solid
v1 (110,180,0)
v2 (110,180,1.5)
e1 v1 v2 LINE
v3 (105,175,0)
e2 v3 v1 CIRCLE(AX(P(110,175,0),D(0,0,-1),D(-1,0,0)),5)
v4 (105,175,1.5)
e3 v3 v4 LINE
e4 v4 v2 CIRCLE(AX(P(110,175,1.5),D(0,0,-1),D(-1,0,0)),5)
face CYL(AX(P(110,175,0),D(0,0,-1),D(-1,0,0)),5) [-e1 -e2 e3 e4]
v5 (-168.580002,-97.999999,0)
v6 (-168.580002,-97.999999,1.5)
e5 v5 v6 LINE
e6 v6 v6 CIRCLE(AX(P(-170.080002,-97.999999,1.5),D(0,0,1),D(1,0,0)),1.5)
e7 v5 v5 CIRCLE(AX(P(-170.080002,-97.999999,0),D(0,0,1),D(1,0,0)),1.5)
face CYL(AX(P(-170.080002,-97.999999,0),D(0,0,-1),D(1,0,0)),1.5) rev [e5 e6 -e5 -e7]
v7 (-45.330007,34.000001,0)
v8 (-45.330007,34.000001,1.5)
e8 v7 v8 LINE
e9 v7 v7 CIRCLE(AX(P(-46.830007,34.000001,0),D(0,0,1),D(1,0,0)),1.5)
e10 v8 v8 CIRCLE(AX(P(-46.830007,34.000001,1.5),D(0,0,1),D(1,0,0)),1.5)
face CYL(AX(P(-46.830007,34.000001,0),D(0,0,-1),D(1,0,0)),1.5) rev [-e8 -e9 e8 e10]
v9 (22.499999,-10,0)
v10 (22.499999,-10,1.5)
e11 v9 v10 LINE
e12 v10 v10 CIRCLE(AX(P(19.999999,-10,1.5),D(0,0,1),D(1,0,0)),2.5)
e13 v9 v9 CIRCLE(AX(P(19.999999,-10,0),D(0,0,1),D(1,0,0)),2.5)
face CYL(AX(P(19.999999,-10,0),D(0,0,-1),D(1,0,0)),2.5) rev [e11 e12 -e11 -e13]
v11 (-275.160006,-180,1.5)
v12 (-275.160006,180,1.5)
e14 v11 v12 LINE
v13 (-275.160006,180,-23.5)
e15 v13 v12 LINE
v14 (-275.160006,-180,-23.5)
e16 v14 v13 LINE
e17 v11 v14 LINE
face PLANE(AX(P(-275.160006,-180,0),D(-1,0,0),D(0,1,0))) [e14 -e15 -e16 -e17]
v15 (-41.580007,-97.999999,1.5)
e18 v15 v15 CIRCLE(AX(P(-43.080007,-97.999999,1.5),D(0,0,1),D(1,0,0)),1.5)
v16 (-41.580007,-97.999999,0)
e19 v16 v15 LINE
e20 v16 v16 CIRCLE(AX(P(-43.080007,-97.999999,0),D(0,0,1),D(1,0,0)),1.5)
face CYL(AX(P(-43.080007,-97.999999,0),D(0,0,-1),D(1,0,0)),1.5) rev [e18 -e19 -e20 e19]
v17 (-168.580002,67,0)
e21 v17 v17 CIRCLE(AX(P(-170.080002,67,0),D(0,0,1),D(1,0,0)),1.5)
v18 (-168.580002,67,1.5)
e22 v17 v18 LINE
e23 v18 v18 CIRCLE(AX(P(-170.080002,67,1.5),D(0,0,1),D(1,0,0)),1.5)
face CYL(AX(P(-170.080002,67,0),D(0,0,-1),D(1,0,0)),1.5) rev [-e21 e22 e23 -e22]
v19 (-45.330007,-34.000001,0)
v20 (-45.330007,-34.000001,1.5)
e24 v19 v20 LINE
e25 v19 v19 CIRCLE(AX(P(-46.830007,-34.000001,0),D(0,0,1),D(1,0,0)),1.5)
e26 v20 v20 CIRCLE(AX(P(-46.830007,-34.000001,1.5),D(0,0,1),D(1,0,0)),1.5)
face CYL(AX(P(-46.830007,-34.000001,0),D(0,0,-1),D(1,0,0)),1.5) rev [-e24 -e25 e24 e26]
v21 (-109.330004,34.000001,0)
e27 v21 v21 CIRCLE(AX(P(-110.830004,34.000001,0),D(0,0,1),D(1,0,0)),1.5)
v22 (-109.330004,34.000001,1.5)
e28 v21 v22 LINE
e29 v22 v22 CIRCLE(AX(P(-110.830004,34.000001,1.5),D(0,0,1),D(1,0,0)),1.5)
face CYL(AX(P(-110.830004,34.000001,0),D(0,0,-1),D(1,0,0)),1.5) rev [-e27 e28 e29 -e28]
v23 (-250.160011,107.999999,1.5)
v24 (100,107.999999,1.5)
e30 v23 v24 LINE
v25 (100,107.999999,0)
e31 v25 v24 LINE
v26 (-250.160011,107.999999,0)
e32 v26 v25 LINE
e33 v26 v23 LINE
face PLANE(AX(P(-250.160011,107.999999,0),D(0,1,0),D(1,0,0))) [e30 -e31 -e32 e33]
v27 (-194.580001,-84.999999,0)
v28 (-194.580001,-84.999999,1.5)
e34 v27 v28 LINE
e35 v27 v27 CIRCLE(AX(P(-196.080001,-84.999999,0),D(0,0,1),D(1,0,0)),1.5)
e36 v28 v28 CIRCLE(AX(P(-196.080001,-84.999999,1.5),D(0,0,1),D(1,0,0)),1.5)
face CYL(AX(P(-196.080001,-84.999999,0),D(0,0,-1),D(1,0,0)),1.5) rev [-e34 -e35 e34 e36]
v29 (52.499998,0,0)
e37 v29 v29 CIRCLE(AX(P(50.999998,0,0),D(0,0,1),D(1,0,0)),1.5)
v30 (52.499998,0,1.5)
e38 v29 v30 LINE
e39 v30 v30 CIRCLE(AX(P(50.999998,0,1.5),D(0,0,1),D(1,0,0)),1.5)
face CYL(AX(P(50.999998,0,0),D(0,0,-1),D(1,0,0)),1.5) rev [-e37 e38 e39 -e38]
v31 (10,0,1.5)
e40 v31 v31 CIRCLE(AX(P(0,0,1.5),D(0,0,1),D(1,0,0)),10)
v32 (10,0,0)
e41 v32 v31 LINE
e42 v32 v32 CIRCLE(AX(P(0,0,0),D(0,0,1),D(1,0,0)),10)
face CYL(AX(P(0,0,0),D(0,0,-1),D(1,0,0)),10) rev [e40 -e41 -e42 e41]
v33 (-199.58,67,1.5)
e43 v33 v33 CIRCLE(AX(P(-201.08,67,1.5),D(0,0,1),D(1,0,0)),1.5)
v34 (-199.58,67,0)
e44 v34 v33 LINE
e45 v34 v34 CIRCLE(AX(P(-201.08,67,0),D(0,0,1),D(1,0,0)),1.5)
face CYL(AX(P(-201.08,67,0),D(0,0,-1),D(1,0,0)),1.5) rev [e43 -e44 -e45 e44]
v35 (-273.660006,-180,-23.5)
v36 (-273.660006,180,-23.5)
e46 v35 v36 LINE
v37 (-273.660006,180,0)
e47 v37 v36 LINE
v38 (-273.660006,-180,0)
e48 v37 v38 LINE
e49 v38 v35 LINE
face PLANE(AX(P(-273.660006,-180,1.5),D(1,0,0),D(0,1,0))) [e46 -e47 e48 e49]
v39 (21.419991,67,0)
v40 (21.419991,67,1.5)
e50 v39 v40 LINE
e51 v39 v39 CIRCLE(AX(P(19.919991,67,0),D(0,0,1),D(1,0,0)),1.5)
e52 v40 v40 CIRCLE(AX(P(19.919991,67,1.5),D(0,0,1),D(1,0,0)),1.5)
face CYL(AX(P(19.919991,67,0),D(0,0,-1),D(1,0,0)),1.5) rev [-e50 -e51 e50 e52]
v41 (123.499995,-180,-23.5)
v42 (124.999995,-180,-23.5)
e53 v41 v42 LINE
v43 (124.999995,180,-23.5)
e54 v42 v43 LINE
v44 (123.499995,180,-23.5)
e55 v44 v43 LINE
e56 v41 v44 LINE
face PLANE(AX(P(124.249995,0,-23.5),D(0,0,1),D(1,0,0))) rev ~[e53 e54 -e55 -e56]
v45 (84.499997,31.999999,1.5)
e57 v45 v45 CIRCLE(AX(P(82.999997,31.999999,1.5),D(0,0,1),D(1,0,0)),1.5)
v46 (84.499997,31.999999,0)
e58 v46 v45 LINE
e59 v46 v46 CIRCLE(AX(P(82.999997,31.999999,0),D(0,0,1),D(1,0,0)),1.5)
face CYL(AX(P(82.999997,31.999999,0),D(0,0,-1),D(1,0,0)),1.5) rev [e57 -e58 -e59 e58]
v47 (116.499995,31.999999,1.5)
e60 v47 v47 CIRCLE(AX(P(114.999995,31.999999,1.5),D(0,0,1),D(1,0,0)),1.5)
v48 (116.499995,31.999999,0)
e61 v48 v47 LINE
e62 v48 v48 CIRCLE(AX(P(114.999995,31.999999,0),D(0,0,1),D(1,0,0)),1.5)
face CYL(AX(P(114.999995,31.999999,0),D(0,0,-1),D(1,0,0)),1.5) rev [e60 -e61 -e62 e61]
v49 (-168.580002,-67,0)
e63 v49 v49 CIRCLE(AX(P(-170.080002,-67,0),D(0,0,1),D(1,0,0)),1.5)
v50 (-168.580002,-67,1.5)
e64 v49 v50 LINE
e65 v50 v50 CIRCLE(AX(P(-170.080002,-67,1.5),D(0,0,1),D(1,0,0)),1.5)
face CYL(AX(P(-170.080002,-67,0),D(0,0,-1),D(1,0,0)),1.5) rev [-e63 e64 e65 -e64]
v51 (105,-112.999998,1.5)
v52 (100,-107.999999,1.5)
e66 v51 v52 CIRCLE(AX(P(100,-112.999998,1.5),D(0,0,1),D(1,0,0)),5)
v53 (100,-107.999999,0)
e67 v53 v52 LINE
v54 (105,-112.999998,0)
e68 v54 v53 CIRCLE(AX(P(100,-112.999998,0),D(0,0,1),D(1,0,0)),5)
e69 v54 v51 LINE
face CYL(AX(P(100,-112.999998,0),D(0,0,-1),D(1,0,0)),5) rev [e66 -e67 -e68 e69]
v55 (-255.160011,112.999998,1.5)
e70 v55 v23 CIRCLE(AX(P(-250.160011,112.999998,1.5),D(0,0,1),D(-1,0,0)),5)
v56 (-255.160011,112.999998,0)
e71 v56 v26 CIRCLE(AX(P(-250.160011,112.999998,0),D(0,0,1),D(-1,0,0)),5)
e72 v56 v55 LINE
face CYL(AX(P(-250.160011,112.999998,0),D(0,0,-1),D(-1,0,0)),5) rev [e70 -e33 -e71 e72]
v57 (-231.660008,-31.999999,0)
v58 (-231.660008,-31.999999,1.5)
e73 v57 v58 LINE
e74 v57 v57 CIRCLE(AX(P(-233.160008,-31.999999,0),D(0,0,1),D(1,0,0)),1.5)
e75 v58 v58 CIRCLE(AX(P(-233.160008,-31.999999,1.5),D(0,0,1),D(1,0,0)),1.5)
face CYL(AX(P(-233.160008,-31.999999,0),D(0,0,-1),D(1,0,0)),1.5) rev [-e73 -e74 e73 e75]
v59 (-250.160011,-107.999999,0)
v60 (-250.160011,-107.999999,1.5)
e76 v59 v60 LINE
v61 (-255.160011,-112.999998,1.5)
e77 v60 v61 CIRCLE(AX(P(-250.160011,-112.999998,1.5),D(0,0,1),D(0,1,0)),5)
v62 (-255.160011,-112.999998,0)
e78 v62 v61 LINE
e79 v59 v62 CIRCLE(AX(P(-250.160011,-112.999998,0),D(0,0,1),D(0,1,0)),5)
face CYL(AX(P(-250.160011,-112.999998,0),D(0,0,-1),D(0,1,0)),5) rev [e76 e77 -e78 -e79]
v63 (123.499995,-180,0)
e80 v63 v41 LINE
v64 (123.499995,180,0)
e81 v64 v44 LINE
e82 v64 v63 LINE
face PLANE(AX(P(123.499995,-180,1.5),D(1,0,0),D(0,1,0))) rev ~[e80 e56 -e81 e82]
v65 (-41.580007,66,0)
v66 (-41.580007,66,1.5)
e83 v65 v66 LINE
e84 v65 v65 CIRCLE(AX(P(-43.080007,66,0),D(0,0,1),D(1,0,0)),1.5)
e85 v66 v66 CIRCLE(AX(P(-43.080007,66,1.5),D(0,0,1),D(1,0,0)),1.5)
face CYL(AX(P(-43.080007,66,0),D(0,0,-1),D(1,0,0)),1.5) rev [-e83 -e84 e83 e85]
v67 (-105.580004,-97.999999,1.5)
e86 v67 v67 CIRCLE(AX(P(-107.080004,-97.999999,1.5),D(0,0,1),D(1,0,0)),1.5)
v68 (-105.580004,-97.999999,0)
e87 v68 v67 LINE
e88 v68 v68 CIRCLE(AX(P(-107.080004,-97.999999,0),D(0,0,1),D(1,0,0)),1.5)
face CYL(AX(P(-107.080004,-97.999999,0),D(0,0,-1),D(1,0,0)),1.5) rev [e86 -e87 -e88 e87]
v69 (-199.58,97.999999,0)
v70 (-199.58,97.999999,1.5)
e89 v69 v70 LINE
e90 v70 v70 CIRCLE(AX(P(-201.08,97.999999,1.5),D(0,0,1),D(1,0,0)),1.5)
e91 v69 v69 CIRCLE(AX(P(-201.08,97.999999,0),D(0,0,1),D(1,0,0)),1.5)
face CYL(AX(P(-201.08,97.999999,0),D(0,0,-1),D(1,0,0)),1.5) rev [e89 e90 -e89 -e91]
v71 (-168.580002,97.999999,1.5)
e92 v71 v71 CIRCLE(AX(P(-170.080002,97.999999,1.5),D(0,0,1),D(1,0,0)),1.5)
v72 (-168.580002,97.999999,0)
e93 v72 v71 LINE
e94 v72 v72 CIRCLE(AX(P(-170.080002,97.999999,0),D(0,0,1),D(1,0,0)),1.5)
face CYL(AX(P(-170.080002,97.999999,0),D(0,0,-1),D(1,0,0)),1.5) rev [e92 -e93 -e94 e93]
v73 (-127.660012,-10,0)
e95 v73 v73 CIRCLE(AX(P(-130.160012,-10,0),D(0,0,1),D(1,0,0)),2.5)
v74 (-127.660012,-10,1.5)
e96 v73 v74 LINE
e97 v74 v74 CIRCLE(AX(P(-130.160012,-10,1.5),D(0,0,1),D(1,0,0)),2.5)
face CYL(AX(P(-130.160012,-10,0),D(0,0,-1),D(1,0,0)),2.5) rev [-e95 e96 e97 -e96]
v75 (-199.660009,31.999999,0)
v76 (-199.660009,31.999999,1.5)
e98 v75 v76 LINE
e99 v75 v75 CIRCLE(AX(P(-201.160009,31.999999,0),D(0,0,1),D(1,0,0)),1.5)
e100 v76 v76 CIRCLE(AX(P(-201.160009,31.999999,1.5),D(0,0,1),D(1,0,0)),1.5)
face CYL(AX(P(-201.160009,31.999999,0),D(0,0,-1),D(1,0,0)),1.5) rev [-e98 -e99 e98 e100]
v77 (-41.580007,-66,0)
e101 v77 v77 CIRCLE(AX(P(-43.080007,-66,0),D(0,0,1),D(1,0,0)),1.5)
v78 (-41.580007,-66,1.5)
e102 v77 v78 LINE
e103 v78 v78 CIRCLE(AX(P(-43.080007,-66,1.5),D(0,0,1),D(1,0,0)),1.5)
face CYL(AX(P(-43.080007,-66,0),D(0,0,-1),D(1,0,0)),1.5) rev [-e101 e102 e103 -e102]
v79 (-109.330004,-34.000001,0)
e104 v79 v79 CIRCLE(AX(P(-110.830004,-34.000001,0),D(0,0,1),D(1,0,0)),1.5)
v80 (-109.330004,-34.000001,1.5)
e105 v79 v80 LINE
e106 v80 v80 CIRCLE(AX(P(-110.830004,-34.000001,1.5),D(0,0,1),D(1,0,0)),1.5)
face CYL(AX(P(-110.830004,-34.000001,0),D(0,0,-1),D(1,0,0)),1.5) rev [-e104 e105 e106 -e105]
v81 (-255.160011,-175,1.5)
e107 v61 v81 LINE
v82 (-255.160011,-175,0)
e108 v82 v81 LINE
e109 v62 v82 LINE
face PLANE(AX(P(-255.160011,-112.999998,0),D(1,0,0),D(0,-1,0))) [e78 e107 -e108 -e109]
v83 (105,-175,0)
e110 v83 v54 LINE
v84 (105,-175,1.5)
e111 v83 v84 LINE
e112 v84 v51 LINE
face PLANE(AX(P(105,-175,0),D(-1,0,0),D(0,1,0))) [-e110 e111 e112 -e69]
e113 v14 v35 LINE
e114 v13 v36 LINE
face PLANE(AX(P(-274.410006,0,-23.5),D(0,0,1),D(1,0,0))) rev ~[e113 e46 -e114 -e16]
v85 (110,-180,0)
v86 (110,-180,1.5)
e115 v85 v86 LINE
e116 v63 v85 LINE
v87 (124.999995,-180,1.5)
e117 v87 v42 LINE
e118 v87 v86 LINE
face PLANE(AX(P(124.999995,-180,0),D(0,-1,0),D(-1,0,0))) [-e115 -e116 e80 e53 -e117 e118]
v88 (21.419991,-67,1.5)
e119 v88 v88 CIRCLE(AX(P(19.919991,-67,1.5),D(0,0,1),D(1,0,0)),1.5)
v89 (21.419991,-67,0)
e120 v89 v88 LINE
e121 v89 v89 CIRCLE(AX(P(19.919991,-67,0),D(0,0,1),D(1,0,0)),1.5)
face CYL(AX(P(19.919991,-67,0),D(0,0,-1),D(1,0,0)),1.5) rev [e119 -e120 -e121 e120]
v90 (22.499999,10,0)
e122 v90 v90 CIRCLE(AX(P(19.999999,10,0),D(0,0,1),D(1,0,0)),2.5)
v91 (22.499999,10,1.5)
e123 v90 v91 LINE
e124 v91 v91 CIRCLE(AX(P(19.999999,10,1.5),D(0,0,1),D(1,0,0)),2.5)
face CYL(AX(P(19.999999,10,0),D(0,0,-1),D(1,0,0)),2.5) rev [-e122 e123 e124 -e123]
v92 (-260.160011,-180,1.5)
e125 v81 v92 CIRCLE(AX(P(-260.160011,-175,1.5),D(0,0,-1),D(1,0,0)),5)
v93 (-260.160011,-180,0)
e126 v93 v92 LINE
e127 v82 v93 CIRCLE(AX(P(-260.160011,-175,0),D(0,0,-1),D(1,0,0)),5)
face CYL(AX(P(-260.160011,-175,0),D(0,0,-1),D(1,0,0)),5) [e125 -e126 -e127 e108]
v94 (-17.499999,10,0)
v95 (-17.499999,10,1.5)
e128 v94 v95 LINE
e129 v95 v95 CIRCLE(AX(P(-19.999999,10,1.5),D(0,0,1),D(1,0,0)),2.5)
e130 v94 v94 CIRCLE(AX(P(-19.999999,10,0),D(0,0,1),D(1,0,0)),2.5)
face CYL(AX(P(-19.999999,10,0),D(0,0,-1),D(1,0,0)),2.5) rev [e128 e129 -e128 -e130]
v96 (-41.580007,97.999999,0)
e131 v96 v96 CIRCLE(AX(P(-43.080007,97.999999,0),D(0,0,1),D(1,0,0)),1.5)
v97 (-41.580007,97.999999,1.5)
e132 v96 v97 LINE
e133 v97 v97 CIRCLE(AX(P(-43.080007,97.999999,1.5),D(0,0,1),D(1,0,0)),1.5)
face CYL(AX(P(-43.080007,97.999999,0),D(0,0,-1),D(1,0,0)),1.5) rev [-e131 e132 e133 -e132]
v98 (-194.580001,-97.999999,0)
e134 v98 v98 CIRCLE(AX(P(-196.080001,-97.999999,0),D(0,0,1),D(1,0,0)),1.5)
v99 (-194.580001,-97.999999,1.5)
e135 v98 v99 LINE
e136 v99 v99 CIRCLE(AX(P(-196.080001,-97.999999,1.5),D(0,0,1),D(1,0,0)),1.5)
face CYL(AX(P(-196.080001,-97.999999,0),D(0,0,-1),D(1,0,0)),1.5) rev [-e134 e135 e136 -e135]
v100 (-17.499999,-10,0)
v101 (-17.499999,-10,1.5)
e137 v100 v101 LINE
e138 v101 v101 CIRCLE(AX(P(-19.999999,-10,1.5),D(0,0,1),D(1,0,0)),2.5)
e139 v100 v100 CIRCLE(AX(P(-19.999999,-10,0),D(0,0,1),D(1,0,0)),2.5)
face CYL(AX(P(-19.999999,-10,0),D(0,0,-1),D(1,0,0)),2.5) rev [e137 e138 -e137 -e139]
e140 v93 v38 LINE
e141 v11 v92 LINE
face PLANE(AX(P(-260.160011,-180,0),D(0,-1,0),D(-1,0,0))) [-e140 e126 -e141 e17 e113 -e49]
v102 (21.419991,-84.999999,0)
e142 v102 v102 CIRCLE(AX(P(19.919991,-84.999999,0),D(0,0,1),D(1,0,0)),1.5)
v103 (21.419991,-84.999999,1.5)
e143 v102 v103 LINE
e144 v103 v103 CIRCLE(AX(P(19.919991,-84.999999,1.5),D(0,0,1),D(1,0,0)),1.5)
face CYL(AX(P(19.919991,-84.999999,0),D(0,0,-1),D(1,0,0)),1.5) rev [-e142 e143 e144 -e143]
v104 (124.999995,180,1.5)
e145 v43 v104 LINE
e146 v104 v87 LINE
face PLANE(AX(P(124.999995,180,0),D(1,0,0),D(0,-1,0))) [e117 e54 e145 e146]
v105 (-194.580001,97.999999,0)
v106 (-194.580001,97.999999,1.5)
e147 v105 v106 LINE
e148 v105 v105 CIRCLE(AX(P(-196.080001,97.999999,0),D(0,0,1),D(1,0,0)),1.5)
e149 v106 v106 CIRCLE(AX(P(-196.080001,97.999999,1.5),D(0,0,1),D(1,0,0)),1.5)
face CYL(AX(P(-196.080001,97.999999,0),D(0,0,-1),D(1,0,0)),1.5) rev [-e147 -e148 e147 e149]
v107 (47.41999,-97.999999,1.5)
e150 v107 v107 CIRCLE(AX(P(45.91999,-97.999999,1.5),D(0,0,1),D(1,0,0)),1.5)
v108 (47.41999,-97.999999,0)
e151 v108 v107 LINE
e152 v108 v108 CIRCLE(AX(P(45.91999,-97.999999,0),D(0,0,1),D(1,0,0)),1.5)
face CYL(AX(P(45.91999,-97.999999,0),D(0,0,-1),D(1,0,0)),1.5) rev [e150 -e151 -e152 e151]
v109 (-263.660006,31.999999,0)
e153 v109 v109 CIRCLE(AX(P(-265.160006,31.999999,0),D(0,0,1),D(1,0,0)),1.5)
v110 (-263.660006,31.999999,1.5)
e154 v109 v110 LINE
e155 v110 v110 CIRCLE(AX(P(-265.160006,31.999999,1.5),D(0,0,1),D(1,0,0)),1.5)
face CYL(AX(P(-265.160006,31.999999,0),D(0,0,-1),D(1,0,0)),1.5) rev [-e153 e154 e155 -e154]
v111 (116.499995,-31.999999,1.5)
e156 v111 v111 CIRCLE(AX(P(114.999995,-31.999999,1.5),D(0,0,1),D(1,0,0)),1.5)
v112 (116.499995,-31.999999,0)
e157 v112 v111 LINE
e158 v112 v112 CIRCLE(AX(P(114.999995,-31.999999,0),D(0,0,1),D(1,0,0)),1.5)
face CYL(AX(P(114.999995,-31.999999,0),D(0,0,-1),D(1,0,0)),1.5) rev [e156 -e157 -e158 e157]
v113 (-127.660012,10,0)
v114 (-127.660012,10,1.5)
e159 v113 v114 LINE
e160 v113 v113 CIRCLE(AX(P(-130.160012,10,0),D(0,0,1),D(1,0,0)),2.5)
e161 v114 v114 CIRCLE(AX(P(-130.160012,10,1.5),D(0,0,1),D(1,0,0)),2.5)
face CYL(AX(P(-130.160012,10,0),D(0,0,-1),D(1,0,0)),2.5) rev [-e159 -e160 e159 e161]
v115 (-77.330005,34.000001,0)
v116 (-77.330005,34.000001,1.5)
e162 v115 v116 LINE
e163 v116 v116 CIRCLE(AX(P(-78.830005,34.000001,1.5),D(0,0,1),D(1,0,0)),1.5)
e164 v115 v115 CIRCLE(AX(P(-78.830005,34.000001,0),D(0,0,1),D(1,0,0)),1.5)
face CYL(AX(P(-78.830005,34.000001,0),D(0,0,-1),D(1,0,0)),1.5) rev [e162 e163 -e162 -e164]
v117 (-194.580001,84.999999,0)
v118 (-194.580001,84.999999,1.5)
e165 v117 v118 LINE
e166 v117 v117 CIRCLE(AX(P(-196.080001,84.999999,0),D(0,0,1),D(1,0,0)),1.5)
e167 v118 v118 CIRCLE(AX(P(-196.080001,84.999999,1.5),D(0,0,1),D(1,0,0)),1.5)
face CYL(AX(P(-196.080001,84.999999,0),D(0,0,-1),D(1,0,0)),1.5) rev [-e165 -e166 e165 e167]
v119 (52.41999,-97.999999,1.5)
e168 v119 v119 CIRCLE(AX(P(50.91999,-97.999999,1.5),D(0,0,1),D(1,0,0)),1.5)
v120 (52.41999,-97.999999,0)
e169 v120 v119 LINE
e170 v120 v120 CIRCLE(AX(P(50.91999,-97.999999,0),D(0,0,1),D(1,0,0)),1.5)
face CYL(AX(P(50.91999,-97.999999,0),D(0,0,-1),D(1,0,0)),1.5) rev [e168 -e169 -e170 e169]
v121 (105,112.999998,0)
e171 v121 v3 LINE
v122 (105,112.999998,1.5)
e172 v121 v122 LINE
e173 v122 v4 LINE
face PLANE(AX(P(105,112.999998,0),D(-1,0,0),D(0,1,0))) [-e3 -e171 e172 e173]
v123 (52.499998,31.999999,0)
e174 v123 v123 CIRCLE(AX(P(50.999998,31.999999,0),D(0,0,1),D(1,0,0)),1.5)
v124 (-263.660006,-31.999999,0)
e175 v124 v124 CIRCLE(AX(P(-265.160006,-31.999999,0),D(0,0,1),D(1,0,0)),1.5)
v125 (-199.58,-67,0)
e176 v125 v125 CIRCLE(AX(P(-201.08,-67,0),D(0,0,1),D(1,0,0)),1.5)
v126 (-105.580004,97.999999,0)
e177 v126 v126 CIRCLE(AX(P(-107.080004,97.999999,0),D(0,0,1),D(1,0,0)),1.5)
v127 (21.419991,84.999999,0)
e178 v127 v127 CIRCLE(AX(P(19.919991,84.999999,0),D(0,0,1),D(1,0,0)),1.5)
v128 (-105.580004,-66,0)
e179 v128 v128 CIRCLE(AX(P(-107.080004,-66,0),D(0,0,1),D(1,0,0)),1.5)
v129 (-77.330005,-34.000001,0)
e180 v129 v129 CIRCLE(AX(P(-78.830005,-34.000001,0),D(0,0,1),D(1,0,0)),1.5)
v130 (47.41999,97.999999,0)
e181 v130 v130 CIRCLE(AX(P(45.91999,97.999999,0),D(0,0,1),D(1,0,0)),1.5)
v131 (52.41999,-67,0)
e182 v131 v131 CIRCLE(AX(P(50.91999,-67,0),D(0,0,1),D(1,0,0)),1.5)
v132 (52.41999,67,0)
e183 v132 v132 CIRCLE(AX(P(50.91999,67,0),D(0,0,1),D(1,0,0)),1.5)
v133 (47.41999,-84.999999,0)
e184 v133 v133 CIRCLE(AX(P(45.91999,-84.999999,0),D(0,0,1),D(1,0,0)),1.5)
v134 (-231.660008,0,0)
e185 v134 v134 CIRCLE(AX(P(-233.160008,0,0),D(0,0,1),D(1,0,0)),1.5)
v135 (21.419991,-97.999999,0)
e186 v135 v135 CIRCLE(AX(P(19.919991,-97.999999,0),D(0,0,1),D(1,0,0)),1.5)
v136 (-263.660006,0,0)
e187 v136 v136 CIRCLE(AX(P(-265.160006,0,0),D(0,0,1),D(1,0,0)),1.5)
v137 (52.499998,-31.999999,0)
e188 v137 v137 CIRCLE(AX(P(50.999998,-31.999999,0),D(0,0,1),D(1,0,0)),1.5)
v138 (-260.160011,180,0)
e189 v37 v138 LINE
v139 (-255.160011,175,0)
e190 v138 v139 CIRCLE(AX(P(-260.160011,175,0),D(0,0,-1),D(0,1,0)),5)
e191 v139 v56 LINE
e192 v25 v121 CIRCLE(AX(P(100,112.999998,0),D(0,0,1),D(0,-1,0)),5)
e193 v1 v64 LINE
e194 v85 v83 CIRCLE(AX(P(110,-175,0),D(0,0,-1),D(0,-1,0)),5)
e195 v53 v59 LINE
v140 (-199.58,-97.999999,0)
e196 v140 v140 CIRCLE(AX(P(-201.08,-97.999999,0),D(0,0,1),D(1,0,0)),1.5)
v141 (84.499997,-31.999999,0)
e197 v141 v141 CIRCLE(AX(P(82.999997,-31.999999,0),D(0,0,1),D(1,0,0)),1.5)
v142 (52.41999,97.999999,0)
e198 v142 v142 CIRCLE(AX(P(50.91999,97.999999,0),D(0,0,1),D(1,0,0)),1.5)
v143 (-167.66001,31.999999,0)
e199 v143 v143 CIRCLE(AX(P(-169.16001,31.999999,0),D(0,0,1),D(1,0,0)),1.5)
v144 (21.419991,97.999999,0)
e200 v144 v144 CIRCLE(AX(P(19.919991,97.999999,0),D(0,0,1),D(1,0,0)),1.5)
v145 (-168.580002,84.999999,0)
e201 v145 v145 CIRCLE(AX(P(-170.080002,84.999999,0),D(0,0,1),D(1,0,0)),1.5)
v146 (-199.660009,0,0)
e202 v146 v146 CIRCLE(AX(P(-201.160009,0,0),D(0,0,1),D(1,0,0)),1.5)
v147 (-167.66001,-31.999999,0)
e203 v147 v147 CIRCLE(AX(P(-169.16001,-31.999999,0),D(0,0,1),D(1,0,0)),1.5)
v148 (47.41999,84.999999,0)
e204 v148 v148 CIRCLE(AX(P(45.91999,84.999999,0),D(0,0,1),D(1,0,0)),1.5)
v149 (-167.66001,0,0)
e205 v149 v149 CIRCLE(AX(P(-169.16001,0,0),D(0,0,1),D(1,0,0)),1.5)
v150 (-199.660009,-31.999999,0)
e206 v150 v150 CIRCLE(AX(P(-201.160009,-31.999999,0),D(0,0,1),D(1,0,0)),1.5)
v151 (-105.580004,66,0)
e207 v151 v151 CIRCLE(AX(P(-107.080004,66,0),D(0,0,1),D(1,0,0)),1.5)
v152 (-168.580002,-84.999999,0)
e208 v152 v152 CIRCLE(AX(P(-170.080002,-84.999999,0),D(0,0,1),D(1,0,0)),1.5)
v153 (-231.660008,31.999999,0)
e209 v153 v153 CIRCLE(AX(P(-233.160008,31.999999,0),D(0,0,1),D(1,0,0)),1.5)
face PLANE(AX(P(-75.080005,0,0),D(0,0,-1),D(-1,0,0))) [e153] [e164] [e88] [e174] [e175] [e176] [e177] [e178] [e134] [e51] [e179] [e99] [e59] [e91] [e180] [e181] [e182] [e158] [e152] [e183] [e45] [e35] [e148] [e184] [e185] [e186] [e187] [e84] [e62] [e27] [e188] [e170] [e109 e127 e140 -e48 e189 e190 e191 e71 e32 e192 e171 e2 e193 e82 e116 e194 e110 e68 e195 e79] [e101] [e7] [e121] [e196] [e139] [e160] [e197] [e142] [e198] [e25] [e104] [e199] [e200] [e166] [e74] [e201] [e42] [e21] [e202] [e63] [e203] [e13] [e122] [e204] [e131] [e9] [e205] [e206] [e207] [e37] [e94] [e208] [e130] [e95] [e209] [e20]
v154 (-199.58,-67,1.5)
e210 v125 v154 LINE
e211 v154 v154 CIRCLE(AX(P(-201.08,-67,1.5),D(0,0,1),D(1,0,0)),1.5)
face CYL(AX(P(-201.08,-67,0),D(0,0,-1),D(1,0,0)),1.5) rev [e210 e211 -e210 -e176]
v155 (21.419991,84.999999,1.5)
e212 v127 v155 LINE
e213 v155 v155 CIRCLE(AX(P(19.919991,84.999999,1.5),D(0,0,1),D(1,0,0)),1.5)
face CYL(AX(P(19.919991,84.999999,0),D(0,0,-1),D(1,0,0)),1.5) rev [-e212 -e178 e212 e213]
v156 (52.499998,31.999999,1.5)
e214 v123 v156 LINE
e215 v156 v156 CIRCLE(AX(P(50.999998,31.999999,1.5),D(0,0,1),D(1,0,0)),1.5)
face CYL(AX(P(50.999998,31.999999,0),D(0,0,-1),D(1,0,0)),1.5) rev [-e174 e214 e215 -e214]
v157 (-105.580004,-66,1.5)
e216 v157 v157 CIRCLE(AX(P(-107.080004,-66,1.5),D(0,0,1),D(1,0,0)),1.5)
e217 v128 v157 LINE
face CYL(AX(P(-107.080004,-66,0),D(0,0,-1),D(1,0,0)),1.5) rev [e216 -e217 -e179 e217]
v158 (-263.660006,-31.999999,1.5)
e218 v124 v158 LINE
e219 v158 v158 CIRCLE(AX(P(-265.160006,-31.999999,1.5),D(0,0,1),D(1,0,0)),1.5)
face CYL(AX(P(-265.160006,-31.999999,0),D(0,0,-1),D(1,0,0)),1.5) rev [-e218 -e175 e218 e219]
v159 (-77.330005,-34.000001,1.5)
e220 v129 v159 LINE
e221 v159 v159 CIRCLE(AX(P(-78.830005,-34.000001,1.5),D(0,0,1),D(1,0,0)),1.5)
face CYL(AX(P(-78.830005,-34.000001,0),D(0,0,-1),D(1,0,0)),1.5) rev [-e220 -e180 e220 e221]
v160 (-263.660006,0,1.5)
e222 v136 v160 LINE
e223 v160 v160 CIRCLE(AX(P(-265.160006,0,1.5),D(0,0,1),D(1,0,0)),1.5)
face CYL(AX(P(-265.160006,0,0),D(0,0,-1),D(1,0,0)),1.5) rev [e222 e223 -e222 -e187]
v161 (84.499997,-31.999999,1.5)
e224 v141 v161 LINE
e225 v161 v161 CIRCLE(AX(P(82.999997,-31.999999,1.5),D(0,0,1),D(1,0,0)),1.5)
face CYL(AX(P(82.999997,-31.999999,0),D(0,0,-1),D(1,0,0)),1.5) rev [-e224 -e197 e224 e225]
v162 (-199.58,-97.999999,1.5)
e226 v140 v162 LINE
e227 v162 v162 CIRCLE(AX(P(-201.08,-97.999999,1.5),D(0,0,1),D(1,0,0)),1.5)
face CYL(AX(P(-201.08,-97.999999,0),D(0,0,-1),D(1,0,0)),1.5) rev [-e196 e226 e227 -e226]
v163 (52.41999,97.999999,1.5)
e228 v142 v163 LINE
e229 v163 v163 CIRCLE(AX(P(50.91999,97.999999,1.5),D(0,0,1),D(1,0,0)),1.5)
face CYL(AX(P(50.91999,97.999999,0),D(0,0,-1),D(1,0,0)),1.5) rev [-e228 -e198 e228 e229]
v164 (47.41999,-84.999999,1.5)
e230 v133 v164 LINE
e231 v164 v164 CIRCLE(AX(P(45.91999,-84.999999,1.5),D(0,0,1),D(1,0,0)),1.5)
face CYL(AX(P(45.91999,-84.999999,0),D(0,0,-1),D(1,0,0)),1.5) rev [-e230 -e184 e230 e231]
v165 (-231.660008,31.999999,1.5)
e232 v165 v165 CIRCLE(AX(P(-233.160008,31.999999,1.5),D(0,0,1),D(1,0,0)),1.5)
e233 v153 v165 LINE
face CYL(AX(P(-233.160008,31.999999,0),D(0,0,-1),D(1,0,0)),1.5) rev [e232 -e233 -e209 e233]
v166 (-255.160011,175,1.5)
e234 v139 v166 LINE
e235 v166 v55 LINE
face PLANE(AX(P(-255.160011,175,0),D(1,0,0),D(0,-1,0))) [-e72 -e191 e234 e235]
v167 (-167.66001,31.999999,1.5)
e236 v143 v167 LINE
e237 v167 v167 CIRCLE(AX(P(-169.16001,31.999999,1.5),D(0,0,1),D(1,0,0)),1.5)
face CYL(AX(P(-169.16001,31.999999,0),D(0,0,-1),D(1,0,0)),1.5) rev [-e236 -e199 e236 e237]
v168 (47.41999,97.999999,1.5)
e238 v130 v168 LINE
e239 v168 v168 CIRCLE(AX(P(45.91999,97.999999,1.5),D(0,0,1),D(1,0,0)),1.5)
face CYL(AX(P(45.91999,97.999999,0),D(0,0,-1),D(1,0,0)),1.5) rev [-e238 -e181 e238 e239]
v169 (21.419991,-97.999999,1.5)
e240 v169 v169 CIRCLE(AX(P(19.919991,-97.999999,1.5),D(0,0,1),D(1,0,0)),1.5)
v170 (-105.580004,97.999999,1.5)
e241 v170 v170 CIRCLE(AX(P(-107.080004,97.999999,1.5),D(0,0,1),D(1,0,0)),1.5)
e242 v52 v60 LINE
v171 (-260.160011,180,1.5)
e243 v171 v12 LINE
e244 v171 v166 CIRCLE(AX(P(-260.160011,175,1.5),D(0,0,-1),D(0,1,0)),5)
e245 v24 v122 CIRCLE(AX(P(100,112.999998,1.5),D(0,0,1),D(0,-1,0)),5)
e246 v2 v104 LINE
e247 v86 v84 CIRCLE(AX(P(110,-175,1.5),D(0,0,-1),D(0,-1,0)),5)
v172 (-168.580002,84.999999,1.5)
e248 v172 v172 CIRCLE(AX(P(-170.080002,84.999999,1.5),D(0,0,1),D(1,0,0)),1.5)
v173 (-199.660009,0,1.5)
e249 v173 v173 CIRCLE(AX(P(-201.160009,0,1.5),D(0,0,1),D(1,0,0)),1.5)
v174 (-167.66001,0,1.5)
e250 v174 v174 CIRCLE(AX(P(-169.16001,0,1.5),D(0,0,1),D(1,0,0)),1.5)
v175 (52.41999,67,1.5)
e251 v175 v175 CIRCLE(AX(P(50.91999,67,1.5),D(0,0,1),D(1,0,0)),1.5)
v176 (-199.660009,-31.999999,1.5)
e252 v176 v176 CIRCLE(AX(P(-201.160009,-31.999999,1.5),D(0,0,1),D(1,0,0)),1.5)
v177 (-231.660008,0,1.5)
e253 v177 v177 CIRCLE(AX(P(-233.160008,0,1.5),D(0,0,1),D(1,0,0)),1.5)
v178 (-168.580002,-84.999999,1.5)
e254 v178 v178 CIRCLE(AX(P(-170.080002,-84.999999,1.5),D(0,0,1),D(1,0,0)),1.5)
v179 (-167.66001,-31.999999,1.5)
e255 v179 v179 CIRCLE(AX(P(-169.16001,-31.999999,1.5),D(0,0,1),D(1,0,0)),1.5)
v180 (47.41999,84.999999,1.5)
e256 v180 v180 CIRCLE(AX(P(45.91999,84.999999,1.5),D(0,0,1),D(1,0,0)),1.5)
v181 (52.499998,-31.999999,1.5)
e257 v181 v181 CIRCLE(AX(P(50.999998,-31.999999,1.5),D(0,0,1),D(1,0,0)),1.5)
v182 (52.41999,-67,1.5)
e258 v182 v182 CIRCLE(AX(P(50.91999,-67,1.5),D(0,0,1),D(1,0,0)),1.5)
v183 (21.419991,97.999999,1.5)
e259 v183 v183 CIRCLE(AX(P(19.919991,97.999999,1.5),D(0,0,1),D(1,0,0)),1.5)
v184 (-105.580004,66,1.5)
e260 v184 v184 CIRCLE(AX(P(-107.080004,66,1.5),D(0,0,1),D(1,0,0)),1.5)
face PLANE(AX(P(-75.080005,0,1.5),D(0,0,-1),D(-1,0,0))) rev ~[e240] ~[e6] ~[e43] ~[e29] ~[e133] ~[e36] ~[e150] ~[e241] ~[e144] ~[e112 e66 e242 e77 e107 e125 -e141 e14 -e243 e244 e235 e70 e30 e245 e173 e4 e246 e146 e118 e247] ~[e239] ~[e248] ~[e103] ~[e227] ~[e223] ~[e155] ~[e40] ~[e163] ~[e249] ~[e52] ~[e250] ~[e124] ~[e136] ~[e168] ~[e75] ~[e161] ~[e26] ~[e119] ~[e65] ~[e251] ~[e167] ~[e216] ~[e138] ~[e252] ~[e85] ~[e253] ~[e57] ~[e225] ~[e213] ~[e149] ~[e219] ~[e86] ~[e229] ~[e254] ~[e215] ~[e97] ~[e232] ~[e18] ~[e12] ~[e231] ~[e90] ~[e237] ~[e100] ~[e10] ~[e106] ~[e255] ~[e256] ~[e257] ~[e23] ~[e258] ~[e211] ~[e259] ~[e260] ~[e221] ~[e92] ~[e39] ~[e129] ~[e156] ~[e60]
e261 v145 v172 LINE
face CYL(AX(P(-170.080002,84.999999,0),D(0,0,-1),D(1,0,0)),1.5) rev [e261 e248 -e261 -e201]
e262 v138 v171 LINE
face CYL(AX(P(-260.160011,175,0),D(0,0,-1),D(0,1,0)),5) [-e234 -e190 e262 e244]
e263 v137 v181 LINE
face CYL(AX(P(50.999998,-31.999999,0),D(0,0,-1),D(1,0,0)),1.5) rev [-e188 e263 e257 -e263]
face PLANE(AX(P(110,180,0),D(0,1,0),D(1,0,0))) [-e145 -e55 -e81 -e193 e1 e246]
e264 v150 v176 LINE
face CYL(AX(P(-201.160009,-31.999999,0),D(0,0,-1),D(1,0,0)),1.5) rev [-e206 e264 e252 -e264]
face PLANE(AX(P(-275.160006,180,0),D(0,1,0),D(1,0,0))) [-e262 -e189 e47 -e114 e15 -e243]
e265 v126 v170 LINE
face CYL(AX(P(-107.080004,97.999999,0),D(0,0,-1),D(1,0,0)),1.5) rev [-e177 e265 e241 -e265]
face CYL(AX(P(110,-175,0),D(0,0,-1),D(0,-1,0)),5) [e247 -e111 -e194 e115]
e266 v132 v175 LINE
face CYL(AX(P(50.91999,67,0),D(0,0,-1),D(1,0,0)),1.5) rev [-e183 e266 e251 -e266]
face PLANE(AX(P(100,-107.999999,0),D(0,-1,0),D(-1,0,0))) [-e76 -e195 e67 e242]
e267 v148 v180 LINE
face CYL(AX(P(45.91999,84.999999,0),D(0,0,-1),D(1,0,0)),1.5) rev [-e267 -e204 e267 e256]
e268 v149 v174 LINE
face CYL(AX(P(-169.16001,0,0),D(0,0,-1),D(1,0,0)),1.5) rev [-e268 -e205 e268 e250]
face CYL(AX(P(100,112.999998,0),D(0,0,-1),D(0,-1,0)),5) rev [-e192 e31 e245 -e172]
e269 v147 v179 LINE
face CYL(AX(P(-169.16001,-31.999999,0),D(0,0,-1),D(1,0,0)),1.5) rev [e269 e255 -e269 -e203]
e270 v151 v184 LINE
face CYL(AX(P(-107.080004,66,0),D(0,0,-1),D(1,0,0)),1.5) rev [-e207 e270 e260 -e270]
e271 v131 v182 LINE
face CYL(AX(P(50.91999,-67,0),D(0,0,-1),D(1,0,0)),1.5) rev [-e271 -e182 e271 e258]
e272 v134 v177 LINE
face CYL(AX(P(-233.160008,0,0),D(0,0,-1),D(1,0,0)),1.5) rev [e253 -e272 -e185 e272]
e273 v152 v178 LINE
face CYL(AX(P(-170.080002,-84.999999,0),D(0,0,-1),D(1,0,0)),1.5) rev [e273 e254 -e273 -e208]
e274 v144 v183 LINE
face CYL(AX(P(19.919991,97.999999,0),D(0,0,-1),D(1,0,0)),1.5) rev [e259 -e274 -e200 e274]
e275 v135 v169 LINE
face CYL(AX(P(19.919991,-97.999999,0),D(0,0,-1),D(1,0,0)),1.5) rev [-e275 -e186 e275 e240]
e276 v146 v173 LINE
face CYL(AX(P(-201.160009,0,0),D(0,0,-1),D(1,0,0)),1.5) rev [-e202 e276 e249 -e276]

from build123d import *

# Parameters (mm, degrees)
SKETCH_1_R      = 1.49999994
SKETCH_1_R_2    = 9.999999603
SKETCH_1_R_3    = 2.499999901
EXTRUDE_1_DEPTH = 1.5
SKETCH_2_W      = 1.5
SKETCH_2_H      = 360
EXTRUDE_2_DEPTH = 25


with BuildPart() as part:
    # 草图1 → 凸台-拉伸1 (new body)
    with BuildSketch(Plane.XY):
        with BuildLine():
            Line((124.999995033, 180), (124.999995033, -180))
            Line((124.999995033, -180), (123.499999503, -180))
            Line((123.499999503, -180), (109.999999801, -180))
            ThreePointArc((109.999999801, -180), (106.464466036, -178.535533964), (105, -175.000000199))
            Line((105, -175.000000199), (105, -112.999998311))
            ThreePointArc((105, -112.999998311), (103.535533964, -109.464464546), (100.000000199, -107.99999851))
            Line((100.000000199, -107.99999851), (-250.16001102, -107.99999851))
            ThreePointArc((-250.16001102, -107.99999851), (-253.695544785, -109.464464546), (-255.160010821, -112.999998311))
            Line((-255.160010821, -112.999998311), (-255.160010821, -167.500000497))
            Line((-255.160010821, -167.500000497), (-255.160010821, -175.000000199))
            ThreePointArc((-255.160010821, -175.000000199), (-256.624476857, -178.535533964), (-260.160010622, -180))
            Line((-260.160010622, -180), (-273.660010324, -180))
            Line((-273.660010324, -180), (-275.160005854, -180))
            Line((-275.160005854, -180), (-275.160005854, 180))
            Line((-275.160005854, 180), (-273.660010324, 180))
            Line((-273.660010324, 180), (-260.160010622, 180))
            ThreePointArc((-260.160010622, 180), (-256.624476857, 178.535533964), (-255.160010821, 175.000000199))
            Line((-255.160010821, 175.000000199), (-255.160010821, 112.999998311))
            ThreePointArc((-255.160010821, 112.999998311), (-253.695544785, 109.464464546), (-250.16001102, 107.99999851))
            Line((-250.16001102, 107.99999851), (100.000000199, 107.99999851))
            ThreePointArc((100.000000199, 107.99999851), (103.535533964, 109.464464546), (105, 112.999998311))
            Line((105, 112.999998311), (105, 175.000000199))
            ThreePointArc((105, 175.000000199), (106.464466036, 178.535533964), (109.999999801, 180))
            Line((109.999999801, 180), (123.499999503, 180))
            Line((123.499999503, 180), (124.999995033, 180))
        make_face()
        with Locations((-201.080000404, 97.999998907)):
            Circle(SKETCH_1_R, mode=Mode.SUBTRACT)
        with Locations((-170.080001635, 97.999998907)):
            Circle(SKETCH_1_R, mode=Mode.SUBTRACT)
        Circle(SKETCH_1_R_2, mode=Mode.SUBTRACT)
        with Locations((114.99999543, 31.999998728)):
            Circle(SKETCH_1_R, mode=Mode.SUBTRACT)
        with Locations((82.999996702, 31.999998728)):
            Circle(SKETCH_1_R, mode=Mode.SUBTRACT)
        with Locations((19.919990815, 97.999998907)):
            Circle(SKETCH_1_R, mode=Mode.SUBTRACT)
        with Locations((50.919989583, 97.999998907)):
            Circle(SKETCH_1_R, mode=Mode.SUBTRACT)
        with Locations((19.919990815, 67.000000139)):
            Circle(SKETCH_1_R, mode=Mode.SUBTRACT)
        with Locations((50.919989583, 67.000000139)):
            Circle(SKETCH_1_R, mode=Mode.SUBTRACT)
        with Locations((-201.080000404, -97.999998907)):
            Circle(SKETCH_1_R, mode=Mode.SUBTRACT)
        with Locations((-170.080001635, -97.999998907)):
            Circle(SKETCH_1_R, mode=Mode.SUBTRACT)
        with Locations((19.919990815, -97.999998907)):
            Circle(SKETCH_1_R, mode=Mode.SUBTRACT)
        with Locations((50.919989583, -97.999998907)):
            Circle(SKETCH_1_R, mode=Mode.SUBTRACT)
        with Locations((114.99999543, -31.999998728)):
            Circle(SKETCH_1_R, mode=Mode.SUBTRACT)
        with Locations((82.999996702, -31.999998728)):
            Circle(SKETCH_1_R, mode=Mode.SUBTRACT)
        with Locations((-107.080004139, 97.999998907)):
            Circle(SKETCH_1_R, mode=Mode.SUBTRACT)
        with Locations((-107.080004139, 66.000000179)):
            Circle(SKETCH_1_R, mode=Mode.SUBTRACT)
        with Locations((-43.080006682, 97.999998907)):
            Circle(SKETCH_1_R, mode=Mode.SUBTRACT)
        with Locations((-43.080006682, 66.000000179)):
            Circle(SKETCH_1_R, mode=Mode.SUBTRACT)
        with Locations((-107.080004139, -97.999998907)):
            Circle(SKETCH_1_R, mode=Mode.SUBTRACT)
        with Locations((-107.080004139, -66.000000179)):
            Circle(SKETCH_1_R, mode=Mode.SUBTRACT)
        with Locations((-43.080006682, -97.999998907)):
            Circle(SKETCH_1_R, mode=Mode.SUBTRACT)
        with Locations((-43.080006682, -66.000000179)):
            Circle(SKETCH_1_R, mode=Mode.SUBTRACT)
        with Locations((-201.080000404, 67.000000139)):
            Circle(SKETCH_1_R, mode=Mode.SUBTRACT)
        with Locations((-170.080001635, 67.000000139)):
            Circle(SKETCH_1_R, mode=Mode.SUBTRACT)
        with Locations((-201.080000404, -67.000000139)):
            Circle(SKETCH_1_R, mode=Mode.SUBTRACT)
        with Locations((-170.080001635, -67.000000139)):
            Circle(SKETCH_1_R, mode=Mode.SUBTRACT)
        with Locations((19.919990815, -67.000000139)):
            Circle(SKETCH_1_R, mode=Mode.SUBTRACT)
        with Locations((50.919989583, -67.000000139)):
            Circle(SKETCH_1_R, mode=Mode.SUBTRACT)
        with Locations((-196.080000602, 97.999998907)):
            Circle(SKETCH_1_R, mode=Mode.SUBTRACT)
        with Locations((-196.080000602, 84.999999424)):
            Circle(SKETCH_1_R, mode=Mode.SUBTRACT)
        with Locations((-170.080001635, 84.999999424)):
            Circle(SKETCH_1_R, mode=Mode.SUBTRACT)
        with Locations((45.919989781, 97.999998907)):
            Circle(SKETCH_1_R, mode=Mode.SUBTRACT)
        with Locations((19.919990815, 84.999999424)):
            Circle(SKETCH_1_R, mode=Mode.SUBTRACT)
        with Locations((45.919989781, 84.999999424)):
            Circle(SKETCH_1_R, mode=Mode.SUBTRACT)
        with Locations((-196.080000602, -97.999998907)):
            Circle(SKETCH_1_R, mode=Mode.SUBTRACT)
        with Locations((-196.080000602, -84.999999424)):
            Circle(SKETCH_1_R, mode=Mode.SUBTRACT)
        with Locations((-170.080001635, -84.999999424)):
            Circle(SKETCH_1_R, mode=Mode.SUBTRACT)
        with Locations((45.919989781, -97.999998907)):
            Circle(SKETCH_1_R, mode=Mode.SUBTRACT)
        with Locations((19.919990815, -84.999999424)):
            Circle(SKETCH_1_R, mode=Mode.SUBTRACT)
        with Locations((45.919989781, -84.999999424)):
            Circle(SKETCH_1_R, mode=Mode.SUBTRACT)
        with Locations((-19.999999205, 9.999999603)):
            Circle(SKETCH_1_R_3, mode=Mode.SUBTRACT)
        with Locations((-19.999999205, -9.999999603)):
            Circle(SKETCH_1_R_3, mode=Mode.SUBTRACT)
        with Locations((19.999999205, 9.999999603)):
            Circle(SKETCH_1_R_3, mode=Mode.SUBTRACT)
        with Locations((19.999999205, -9.999999603)):
            Circle(SKETCH_1_R_3, mode=Mode.SUBTRACT)
        with Locations((-265.160006251, 31.999998728)):
            Circle(SKETCH_1_R, mode=Mode.SUBTRACT)
        with Locations((-233.160007523, 31.999998728)):
            Circle(SKETCH_1_R, mode=Mode.SUBTRACT)
        with Locations((-201.160008794, 31.999998728)):
            Circle(SKETCH_1_R, mode=Mode.SUBTRACT)
        with Locations((-201.160008794, 0)):
            Circle(SKETCH_1_R, mode=Mode.SUBTRACT)
        with Locations((-265.160006251, -31.999998728)):
            Circle(SKETCH_1_R, mode=Mode.SUBTRACT)
        with Locations((-233.160007523, -31.999998728)):
            Circle(SKETCH_1_R, mode=Mode.SUBTRACT)
        with Locations((-201.160008794, -31.999998728)):
            Circle(SKETCH_1_R, mode=Mode.SUBTRACT)
        with Locations((-130.160011616, 9.999999603)):
            Circle(SKETCH_1_R_3, mode=Mode.SUBTRACT)
        with Locations((-130.160011616, -9.999999603)):
            Circle(SKETCH_1_R_3, mode=Mode.SUBTRACT)
        with Locations((-169.160010066, 31.999998728)):
            Circle(SKETCH_1_R, mode=Mode.SUBTRACT)
        with Locations((-169.160010066, 0)):
            Circle(SKETCH_1_R, mode=Mode.SUBTRACT)
        with Locations((-169.160010066, -31.999998728)):
            Circle(SKETCH_1_R, mode=Mode.SUBTRACT)
        with Locations((-265.160006251, 0)):
            Circle(SKETCH_1_R, mode=Mode.SUBTRACT)
        with Locations((-233.160007523, 0)):
            Circle(SKETCH_1_R, mode=Mode.SUBTRACT)
        with Locations((50.999997973, 31.999998728)):
            Circle(SKETCH_1_R, mode=Mode.SUBTRACT)
        with Locations((50.999997973, 0)):
            Circle(SKETCH_1_R, mode=Mode.SUBTRACT)
        with Locations((50.999997973, -31.999998728)):
            Circle(SKETCH_1_R, mode=Mode.SUBTRACT)
        with Locations((-110.83000399, 34.00000145)):
            Circle(SKETCH_1_R, mode=Mode.SUBTRACT)
        with Locations((-78.830005261, 34.00000145)):
            Circle(SKETCH_1_R, mode=Mode.SUBTRACT)
        with Locations((-46.830006533, 34.00000145)):
            Circle(SKETCH_1_R, mode=Mode.SUBTRACT)
        with Locations((-110.83000399, -34.00000145)):
            Circle(SKETCH_1_R, mode=Mode.SUBTRACT)
        with Locations((-78.830005261, -34.00000145)):
            Circle(SKETCH_1_R, mode=Mode.SUBTRACT)
        with Locations((-46.830006533, -34.00000145)):
            Circle(SKETCH_1_R, mode=Mode.SUBTRACT)
    extrude(amount=EXTRUDE_1_DEPTH)

    # 草图2 → 凸台-拉伸2 (add)
    with BuildSketch(Plane.XY.offset(1.5)):
        with Locations((124.249995033, 0)):
            Rectangle(SKETCH_2_W, SKETCH_2_H)
        with Locations((-274.410005854, 0)):
            Rectangle(SKETCH_2_W, SKETCH_2_H)
    extrude(amount=-EXTRUDE_2_DEPTH)


solid = part.part
